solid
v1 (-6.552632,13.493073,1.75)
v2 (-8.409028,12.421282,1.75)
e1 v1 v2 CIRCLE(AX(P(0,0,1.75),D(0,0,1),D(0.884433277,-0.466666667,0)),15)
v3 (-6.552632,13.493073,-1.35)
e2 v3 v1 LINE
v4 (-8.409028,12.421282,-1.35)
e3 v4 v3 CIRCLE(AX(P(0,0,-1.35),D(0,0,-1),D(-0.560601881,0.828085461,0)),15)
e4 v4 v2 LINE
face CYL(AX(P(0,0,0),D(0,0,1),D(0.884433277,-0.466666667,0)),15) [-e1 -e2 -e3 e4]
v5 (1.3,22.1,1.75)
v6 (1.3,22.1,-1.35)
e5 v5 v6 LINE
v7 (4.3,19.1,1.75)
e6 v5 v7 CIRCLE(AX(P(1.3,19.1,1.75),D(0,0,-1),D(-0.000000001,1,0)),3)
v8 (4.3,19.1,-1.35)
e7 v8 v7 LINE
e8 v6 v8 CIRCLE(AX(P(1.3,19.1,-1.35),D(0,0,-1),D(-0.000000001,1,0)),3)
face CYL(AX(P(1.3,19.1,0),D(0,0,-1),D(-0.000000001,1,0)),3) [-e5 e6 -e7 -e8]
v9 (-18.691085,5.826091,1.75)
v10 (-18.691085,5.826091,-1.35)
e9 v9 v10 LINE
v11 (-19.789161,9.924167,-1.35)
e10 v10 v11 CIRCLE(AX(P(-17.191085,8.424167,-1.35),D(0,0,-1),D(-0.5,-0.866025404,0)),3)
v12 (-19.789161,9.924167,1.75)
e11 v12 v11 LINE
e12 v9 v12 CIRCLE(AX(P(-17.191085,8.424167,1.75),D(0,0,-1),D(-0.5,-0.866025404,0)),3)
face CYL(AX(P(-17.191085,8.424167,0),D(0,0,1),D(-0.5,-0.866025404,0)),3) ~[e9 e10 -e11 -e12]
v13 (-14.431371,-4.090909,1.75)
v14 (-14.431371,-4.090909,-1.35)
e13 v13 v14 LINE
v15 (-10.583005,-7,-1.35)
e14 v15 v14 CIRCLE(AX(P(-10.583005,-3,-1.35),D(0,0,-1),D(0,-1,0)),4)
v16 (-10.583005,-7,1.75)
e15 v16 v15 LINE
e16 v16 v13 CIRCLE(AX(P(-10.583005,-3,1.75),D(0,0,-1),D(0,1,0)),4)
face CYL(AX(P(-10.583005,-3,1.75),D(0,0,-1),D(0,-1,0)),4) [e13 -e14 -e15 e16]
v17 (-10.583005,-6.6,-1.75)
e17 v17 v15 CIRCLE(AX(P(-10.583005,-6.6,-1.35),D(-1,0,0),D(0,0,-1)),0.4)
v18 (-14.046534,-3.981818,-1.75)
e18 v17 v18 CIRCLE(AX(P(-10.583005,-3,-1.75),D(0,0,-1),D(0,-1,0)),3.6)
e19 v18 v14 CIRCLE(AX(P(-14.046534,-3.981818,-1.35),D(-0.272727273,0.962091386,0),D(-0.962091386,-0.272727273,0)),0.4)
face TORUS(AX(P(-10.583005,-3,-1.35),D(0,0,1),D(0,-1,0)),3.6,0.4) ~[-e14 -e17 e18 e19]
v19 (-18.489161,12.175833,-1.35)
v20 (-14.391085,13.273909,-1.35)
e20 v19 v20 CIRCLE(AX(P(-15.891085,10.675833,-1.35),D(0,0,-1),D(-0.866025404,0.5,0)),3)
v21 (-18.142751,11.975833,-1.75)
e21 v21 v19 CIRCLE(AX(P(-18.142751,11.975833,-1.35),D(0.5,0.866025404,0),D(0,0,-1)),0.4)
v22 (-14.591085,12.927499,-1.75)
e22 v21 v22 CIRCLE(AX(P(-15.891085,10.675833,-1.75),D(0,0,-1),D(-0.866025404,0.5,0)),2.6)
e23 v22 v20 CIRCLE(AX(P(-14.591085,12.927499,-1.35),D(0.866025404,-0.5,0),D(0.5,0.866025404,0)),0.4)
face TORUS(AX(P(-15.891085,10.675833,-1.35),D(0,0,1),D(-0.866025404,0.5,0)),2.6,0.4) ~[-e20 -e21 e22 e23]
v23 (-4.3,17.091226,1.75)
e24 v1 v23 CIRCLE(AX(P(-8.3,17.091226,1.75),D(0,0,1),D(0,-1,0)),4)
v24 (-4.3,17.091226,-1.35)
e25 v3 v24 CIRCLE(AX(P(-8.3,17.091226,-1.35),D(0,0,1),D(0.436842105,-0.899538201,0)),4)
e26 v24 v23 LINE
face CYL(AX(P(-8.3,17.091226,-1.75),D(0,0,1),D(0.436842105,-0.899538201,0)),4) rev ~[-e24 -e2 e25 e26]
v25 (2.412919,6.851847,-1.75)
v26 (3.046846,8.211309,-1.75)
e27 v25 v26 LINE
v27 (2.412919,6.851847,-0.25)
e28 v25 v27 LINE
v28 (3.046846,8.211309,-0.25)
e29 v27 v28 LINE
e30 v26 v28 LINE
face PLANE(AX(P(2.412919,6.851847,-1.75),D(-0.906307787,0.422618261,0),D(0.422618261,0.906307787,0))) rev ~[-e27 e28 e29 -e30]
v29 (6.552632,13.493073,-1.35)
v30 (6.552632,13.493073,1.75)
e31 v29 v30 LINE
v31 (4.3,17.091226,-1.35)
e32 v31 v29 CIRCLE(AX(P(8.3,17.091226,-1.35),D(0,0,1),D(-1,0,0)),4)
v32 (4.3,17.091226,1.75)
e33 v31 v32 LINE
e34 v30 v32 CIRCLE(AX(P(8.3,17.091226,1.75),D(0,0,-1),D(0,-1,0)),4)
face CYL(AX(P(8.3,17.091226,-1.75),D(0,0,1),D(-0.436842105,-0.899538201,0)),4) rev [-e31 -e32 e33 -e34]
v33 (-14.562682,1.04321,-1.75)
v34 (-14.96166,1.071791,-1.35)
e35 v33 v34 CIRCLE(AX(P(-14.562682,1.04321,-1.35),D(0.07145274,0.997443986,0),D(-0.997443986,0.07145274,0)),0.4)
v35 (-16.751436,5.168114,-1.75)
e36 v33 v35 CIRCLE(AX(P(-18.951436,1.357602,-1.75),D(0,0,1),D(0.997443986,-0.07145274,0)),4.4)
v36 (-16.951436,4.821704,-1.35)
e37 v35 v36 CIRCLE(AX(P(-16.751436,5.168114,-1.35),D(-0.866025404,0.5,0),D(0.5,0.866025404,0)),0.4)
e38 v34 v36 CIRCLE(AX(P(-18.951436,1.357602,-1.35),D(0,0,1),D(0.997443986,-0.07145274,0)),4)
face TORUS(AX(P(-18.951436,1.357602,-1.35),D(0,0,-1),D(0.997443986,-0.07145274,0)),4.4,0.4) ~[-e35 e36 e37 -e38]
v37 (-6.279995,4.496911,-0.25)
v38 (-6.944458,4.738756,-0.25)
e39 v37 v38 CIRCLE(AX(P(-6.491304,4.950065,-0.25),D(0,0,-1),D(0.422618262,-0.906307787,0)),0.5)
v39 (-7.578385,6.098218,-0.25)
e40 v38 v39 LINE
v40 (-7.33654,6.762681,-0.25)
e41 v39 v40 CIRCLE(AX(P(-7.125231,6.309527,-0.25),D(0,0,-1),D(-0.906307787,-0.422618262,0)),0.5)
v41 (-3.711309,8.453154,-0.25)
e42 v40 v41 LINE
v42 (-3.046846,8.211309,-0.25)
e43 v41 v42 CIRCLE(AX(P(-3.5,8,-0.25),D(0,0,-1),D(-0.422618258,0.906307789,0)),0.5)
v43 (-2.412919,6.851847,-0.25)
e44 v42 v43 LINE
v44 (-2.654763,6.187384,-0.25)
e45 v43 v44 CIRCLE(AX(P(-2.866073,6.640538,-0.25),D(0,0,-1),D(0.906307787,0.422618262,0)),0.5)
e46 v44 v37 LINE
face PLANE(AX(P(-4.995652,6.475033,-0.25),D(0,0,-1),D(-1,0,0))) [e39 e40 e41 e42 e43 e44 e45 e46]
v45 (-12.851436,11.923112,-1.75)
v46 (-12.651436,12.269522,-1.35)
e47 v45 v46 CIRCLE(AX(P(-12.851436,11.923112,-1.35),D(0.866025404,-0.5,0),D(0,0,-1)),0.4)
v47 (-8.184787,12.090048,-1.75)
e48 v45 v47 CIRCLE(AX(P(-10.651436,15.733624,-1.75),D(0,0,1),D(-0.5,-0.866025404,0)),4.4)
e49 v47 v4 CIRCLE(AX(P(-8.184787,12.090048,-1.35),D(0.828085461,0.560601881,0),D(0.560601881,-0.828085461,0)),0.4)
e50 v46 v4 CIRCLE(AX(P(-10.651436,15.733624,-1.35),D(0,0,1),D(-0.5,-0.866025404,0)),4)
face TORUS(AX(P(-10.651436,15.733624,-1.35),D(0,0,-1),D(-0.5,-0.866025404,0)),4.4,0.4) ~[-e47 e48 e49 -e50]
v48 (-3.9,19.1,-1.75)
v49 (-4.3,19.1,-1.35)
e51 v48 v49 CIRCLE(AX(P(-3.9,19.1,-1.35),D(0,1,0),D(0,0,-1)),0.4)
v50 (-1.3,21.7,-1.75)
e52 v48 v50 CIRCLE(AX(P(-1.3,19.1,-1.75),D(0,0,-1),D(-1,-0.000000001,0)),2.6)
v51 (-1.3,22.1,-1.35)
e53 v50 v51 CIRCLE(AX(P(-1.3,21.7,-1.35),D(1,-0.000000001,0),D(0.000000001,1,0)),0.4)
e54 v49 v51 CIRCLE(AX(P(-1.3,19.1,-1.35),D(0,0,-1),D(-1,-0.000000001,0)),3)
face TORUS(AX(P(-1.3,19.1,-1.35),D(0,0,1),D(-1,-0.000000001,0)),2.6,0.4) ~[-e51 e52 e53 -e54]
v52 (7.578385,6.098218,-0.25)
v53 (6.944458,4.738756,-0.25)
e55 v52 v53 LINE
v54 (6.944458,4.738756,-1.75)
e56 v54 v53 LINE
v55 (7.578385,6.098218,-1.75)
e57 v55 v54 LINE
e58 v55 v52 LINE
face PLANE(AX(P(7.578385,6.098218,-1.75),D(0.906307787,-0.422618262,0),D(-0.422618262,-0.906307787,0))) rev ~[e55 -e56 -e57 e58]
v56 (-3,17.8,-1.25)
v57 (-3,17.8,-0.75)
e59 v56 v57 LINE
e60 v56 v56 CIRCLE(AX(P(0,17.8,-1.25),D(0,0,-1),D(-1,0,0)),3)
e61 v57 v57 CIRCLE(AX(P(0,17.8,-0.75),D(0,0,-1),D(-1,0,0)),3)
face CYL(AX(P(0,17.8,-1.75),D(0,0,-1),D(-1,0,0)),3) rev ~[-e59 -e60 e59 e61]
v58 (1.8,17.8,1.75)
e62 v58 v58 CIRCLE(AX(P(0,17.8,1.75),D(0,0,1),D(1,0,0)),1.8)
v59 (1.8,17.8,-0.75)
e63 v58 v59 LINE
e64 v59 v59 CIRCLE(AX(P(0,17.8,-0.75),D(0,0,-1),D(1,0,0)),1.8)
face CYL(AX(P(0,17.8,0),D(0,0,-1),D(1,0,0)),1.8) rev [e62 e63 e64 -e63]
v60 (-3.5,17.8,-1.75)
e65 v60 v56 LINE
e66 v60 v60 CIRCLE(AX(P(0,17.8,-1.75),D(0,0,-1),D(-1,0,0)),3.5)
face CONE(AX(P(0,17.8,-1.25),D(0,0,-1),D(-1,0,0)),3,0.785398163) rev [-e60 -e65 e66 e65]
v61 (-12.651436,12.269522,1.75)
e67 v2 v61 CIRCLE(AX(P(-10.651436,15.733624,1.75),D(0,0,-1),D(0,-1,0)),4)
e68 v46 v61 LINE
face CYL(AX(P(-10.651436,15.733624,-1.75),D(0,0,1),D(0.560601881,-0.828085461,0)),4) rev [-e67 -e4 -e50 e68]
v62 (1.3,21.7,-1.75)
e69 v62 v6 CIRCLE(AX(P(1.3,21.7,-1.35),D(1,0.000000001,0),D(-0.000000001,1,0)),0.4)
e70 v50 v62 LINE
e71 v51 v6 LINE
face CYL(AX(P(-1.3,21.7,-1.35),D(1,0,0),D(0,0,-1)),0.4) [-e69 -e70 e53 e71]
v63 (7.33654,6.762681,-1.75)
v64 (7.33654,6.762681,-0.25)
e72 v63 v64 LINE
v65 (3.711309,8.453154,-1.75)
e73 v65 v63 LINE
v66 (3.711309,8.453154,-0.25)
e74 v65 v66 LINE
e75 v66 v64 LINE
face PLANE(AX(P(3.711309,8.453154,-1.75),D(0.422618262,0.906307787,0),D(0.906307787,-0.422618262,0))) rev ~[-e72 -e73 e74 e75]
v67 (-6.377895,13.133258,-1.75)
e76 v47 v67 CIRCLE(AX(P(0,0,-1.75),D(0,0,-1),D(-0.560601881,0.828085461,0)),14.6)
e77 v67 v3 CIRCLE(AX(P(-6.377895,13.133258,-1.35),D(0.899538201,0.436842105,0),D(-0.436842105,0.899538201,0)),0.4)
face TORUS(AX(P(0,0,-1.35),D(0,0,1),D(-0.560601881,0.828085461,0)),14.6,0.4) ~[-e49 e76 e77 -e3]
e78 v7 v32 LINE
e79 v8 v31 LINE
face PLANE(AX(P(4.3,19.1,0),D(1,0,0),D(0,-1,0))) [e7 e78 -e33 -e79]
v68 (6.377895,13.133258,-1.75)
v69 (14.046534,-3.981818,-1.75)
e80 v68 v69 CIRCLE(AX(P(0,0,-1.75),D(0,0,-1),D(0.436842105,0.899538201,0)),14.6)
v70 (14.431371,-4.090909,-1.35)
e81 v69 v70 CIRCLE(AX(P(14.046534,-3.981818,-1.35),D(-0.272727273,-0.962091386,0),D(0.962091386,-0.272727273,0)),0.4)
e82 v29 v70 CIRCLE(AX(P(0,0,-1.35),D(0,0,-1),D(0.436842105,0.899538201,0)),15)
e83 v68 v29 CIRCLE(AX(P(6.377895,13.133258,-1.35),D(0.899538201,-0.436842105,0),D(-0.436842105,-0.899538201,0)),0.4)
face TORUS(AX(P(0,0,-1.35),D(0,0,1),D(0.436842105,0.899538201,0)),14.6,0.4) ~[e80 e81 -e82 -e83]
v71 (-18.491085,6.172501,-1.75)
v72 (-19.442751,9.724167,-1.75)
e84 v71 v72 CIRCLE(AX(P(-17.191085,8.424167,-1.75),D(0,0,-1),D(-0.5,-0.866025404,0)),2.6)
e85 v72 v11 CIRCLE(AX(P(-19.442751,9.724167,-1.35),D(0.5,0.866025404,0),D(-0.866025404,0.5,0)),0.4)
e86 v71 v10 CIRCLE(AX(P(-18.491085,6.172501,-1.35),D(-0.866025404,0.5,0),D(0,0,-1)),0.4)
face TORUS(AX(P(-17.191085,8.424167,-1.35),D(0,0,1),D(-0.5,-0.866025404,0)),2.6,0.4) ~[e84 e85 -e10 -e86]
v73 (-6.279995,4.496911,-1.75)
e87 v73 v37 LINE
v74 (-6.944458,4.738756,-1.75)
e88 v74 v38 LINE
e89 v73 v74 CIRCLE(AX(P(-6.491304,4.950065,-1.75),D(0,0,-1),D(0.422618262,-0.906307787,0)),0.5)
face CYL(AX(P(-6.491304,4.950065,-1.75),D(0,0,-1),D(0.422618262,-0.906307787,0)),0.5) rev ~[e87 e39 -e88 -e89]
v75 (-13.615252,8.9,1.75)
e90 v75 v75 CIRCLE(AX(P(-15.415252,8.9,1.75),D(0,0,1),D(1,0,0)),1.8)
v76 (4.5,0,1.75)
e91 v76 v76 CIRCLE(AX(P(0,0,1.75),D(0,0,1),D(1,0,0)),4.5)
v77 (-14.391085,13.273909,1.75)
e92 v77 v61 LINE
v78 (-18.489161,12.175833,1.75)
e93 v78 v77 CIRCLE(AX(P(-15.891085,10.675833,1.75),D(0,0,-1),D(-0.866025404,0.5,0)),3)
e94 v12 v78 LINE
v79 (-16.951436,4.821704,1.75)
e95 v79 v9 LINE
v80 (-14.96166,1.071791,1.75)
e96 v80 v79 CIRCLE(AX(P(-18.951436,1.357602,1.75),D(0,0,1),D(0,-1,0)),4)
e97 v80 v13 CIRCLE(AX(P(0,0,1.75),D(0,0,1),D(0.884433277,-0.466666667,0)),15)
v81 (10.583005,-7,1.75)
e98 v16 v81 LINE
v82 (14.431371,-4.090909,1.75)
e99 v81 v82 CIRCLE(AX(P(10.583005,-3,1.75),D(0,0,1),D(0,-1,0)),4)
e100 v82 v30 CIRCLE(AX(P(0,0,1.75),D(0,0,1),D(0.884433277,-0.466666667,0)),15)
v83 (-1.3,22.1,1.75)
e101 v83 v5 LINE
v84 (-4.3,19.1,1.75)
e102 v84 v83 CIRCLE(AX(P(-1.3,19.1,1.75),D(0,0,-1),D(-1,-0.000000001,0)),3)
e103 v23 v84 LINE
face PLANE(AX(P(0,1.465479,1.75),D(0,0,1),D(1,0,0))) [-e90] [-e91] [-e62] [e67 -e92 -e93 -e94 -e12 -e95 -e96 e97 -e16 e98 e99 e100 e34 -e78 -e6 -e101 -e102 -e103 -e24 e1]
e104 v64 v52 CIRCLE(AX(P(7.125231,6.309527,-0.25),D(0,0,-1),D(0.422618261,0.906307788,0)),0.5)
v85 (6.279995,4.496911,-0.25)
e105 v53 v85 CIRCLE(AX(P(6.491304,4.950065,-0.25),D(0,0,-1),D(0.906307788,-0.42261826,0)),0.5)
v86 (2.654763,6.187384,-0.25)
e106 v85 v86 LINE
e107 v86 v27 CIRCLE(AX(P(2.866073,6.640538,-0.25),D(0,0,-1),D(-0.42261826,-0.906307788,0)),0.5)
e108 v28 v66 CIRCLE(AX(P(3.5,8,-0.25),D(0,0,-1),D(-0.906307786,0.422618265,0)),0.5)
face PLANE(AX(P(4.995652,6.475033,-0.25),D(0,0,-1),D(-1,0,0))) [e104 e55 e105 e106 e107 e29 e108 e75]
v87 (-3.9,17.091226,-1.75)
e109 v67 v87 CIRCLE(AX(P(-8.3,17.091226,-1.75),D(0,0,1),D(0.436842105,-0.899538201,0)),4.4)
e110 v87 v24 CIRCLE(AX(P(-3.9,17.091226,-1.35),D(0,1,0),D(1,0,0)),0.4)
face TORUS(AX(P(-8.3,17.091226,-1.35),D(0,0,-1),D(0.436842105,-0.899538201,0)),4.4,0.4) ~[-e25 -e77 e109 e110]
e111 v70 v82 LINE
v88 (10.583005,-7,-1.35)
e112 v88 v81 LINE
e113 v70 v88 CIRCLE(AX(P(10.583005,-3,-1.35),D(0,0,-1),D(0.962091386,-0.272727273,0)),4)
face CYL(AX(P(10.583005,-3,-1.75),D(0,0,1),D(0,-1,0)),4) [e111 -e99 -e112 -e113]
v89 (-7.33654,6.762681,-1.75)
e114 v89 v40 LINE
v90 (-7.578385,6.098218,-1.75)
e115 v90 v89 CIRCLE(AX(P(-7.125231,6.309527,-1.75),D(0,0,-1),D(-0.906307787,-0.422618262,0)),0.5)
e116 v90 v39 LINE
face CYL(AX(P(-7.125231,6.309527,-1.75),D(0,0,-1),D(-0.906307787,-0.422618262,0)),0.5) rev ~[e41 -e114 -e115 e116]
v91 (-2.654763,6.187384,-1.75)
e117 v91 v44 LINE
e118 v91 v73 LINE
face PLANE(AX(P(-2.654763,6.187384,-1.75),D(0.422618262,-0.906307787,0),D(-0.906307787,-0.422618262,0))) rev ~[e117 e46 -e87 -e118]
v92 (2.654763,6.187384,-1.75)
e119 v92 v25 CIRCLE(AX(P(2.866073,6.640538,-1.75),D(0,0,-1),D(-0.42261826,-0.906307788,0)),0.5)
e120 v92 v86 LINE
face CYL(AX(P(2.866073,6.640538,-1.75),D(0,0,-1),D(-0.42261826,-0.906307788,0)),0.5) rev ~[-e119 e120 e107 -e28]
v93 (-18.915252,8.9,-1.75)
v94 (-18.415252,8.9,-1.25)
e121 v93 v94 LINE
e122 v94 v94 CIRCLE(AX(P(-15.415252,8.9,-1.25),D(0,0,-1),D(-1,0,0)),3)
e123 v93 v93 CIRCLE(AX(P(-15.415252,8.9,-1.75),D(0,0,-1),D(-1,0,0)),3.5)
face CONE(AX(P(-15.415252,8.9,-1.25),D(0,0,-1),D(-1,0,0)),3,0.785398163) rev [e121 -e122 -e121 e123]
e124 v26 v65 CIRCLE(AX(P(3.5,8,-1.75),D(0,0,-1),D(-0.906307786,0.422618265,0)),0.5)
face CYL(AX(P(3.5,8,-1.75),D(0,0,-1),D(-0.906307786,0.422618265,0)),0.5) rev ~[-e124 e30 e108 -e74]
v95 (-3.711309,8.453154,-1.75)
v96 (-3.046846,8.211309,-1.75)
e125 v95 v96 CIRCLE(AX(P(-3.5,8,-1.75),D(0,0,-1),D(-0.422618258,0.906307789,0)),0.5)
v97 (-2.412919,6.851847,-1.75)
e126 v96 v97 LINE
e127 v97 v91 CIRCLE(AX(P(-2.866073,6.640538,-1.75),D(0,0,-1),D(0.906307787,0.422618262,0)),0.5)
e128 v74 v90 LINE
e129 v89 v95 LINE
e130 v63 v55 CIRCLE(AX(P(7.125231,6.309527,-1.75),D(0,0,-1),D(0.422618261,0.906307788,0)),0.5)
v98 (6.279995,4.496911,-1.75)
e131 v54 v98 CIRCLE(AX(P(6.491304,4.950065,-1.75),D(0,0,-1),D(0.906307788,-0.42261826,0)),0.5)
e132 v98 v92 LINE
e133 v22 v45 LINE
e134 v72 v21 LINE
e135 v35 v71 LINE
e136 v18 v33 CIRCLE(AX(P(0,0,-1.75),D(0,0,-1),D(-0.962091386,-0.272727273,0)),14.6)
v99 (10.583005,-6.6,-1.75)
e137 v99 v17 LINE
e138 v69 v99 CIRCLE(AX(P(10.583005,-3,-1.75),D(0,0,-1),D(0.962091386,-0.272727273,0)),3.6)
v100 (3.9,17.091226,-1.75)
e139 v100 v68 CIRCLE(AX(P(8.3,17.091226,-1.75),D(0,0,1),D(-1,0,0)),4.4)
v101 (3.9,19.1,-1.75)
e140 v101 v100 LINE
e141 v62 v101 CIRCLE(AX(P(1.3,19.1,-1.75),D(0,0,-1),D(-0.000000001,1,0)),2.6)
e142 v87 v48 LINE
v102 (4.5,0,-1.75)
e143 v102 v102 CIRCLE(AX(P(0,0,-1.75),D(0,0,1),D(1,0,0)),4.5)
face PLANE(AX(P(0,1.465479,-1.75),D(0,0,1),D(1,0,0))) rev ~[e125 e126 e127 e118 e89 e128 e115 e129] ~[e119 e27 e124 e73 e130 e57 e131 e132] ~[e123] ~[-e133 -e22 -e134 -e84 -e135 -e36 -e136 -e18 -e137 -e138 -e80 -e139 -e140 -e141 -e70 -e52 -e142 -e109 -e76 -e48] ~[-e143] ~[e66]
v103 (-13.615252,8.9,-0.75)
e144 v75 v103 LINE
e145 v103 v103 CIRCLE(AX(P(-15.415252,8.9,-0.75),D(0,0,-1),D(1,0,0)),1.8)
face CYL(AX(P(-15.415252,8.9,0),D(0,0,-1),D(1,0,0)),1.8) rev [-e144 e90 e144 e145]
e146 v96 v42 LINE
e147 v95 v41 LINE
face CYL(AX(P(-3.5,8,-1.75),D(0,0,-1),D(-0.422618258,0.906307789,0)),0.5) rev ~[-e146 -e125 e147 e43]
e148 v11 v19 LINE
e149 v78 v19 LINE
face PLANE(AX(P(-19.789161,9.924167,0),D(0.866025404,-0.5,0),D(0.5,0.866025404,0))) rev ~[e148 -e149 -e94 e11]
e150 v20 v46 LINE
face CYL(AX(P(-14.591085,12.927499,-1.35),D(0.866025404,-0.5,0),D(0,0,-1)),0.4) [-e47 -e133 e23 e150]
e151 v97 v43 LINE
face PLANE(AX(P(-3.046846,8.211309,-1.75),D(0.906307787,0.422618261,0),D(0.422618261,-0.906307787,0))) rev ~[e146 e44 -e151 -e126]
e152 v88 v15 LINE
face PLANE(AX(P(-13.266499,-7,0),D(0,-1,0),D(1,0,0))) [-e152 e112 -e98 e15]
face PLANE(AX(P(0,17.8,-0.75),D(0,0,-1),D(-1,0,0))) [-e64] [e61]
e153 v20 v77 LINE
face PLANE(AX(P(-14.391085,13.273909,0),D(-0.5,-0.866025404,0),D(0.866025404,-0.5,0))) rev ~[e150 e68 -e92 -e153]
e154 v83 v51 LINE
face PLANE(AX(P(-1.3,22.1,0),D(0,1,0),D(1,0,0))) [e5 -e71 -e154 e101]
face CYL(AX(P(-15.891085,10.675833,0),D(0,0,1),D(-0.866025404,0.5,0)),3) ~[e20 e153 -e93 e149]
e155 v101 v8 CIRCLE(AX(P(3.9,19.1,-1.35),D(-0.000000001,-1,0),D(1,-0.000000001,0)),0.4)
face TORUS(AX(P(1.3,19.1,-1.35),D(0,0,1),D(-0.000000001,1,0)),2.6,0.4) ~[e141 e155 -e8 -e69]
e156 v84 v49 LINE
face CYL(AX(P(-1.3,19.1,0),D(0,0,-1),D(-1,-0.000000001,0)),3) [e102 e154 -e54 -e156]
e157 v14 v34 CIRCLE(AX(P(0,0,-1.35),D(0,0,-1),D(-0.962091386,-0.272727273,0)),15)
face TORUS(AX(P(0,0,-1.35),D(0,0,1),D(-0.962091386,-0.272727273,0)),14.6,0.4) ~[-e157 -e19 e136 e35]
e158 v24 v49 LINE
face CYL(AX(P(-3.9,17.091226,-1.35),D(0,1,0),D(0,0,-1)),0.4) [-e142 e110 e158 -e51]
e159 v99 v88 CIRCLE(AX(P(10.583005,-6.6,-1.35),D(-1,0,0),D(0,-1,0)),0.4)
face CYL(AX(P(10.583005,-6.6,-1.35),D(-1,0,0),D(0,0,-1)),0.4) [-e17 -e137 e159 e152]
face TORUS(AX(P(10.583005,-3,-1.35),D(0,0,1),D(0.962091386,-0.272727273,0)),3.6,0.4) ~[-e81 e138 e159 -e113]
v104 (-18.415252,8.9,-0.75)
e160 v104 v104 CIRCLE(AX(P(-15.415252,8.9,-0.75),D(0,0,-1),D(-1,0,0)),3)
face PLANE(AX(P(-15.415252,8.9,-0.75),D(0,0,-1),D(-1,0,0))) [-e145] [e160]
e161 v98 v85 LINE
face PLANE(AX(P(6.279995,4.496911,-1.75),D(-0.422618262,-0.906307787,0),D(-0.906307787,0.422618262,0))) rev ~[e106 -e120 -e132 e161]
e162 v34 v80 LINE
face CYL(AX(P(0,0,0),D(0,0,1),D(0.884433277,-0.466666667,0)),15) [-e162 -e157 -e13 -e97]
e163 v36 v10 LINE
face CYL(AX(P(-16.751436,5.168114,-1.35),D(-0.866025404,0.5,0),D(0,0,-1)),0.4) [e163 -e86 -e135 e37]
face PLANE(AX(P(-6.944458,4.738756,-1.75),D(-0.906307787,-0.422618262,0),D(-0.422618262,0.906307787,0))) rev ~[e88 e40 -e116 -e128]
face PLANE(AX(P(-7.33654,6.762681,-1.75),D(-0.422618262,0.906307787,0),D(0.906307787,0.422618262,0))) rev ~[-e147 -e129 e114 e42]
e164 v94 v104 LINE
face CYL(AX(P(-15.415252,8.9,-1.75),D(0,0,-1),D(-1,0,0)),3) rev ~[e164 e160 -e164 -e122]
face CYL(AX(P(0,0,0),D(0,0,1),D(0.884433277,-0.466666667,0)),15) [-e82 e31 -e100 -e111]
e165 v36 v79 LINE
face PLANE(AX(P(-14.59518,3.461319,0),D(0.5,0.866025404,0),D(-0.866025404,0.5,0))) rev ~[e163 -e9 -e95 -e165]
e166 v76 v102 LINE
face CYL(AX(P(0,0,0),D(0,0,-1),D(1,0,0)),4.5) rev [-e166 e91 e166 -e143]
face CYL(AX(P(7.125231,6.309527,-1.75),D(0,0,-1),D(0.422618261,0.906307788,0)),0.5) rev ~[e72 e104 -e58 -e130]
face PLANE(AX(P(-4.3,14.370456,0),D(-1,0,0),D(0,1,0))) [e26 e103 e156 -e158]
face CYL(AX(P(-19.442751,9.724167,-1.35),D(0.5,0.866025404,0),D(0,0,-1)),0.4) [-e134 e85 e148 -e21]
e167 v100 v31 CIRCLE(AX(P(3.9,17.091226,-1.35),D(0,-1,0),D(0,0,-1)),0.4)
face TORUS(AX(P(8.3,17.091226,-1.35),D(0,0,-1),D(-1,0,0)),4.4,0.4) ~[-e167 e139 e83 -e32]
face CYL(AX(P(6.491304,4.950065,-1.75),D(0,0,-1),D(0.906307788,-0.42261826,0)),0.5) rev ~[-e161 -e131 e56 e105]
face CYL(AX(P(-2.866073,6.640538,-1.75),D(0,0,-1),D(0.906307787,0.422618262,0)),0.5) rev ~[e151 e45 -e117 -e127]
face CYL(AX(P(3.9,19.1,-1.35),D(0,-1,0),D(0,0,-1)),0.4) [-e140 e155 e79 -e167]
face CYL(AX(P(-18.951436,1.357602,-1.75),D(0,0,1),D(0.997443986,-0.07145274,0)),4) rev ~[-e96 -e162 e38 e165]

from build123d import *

# Parameters (mm, degrees)
SKETCH10_R          = 4.5
BOSS_EXTRUDE6_DEPTH = 1.75
SKETCH13_R          = 1.8
BOSS_EXTRUDE7_DEPTH = 1.75
FILLET1_R           = 4
CUT_EXTRUDE2_DEPTH  = 1.5
SKETCH16_R          = 3
CUT_EXTRUDE3_DEPTH  = 1
CHAMFER1_SIZE       = 0.5
FILLET2_R           = 0.4


with BuildPart() as part:
    # Sketch10 → Boss-Extrude6 (new, symmetric)
    with BuildSketch(Plane.XY):
        with BuildLine():
            Line((-13.266499161, -7), (13.266499161, -7))
            ThreePointArc((13.266499161, -7), (0, 15), (-13.266499161, -7))
        make_face()
        Circle(SKETCH10_R, mode=Mode.SUBTRACT)
    extrude(amount=BOSS_EXTRUDE6_DEPTH, both=True)

    # Sketch13 → Boss-Extrude7 (add, symmetric)
    # profile 1 of 2: a face of its own
    with BuildSketch(Plane.XY):
        with BuildLine():
            Line((-4.3, 14.370455803), (-4.3, 19.1))
            ThreePointArc((-4.3, 19.1), (-3.421320344, 21.221320344), (-1.3, 22.1))
            Line((-1.3, 22.1), (1.3, 22.1))
            ThreePointArc((1.3, 22.1), (3.421320344, 21.221320344), (4.3, 19.1))
            Line((4.3, 19.1), (4.3, 14.370455803))
            ThreePointArc((4.3, 14.370455803), (0, 15), (-4.3, 14.370455803))
        make_face()
        with Locations((0, 17.8)):
            Circle(SKETCH13_R, mode=Mode.SUBTRACT)
    # profile 2 of 2: a face of its own
    with BuildSketch(Plane.XY):
        with BuildLine():
            Line((-14.59517979, 3.461318665), (-18.691085212, 5.826090764))
            ThreePointArc((-18.691085212, 5.826090764), (-20.088862691, 7.64770984), (-19.789161424, 9.924166975))
            Line((-19.789161424, 9.924166975), (-18.489161424, 12.175833025))
            ThreePointArc((-18.489161424, 12.175833025), (-16.667542348, 13.573610504), (-14.391085212, 13.273909236))
            Line((-14.391085212, 13.273909236), (-10.29517979, 10.909137138))
            ThreePointArc((-10.29517979, 10.909137138), (-12.990381057, 7.5), (-14.59517979, 3.461318665))
        make_face()
        with Locations((-15.415252187, 8.9)):
            Circle(SKETCH13_R, mode=Mode.SUBTRACT)
    extrude(amount=BOSS_EXTRUDE7_DEPTH, both=True)

    # Fillet1
    fillet1_edges = [part.edges().sort_by_distance(p)[0] for p in [
        (-4.3, 14.370455803, 0),
        (4.3, 14.370455803, 0),
        (-14.59517979, 3.461318665, 0),
        (-10.29517979, 10.909137138, 0),
        (13.266499161, -7, 0),
        (-13.266499161, -7, 0),
    ]]
    fillet(fillet1_edges, radius=FILLET1_R)

    # Sketch15 → Cut-Extrude2 (cut)
    with BuildSketch(Plane(origin=(0, 0, -1.75), x_dir=(-1, 0, 0), z_dir=(0, 0, -1))):
        with BuildLine():
            Line((-3.711309131, 8.453153894), (-7.336540279, 6.762680847))
            ThreePointArc((-7.336540279, 6.762680847), (-7.595077459, 6.480537025), (-7.578385042, 6.098217822))
            Line((-7.578385042, 6.098217822), (-6.944457649, 4.738756142))
            ThreePointArc((-6.944457649, 4.738756142), (-6.662313827, 4.480218962), (-6.279994625, 4.496911379))
            Line((-6.279994625, 4.496911379), (-2.654763477, 6.187384426))
            ThreePointArc((-2.654763477, 6.187384426), (-2.396226297, 6.469528248), (-2.412918714, 6.85184745))
            Line((-2.412918714, 6.85184745), (-3.046846106, 8.211309131))
            ThreePointArc((-3.046846106, 8.211309131), (-3.328989928, 8.46984631), (-3.711309131, 8.453153894))
        make_face()
        with BuildLine():
            Line((6.944457649, 4.738756142), (7.578385042, 6.098217822))
            ThreePointArc((7.578385042, 6.098217822), (7.595077459, 6.480537025), (7.336540279, 6.762680847))
            Line((7.336540279, 6.762680847), (3.711309131, 8.453153894))
            ThreePointArc((3.711309131, 8.453153894), (3.328989928, 8.46984631), (3.046846106, 8.211309131))
            Line((3.046846106, 8.211309131), (2.412918714, 6.85184745))
            ThreePointArc((2.412918714, 6.85184745), (2.396226297, 6.469528248), (2.654763477, 6.187384426))
            Line((2.654763477, 6.187384426), (6.279994625, 4.496911379))
            ThreePointArc((6.279994625, 4.496911379), (6.662313827, 4.480218962), (6.944457649, 4.738756142))
        make_face()
    extrude(amount=-CUT_EXTRUDE2_DEPTH, mode=Mode.SUBTRACT)

    # Sketch16 → Cut-Extrude3 (cut)
    with BuildSketch(Plane(origin=(0, 0, -1.75), x_dir=(-1, 0, 0), z_dir=(0, 0, -1))):
        with Locations((0, 17.8)):
            Circle(SKETCH16_R)
        with Locations((15.415252187, 8.9)):
            Circle(SKETCH16_R)
    extrude(amount=-CUT_EXTRUDE3_DEPTH, mode=Mode.SUBTRACT)

    # Chamfer1
    chamfer1_edges = [part.edges().sort_by_distance(p)[0] for p in [
        (3, 17.8, -1.75),
        (-12.415252187, 8.9, -1.75),
    ]]
    chamfer(chamfer1_edges, length=CHAMFER1_SIZE)

    # Fillet2
    fillet2_edges = [part.edges().sort_by_distance(p)[0] for p in [
        (3.421320344, 21.221320344, -1.75),
        (0, 22.1, -1.75),
        (-3.421320344, 21.221320344, -1.75),
        (-4.3, 18.09561291, -1.75),
        (-16.667542348, 13.573610504, -1.75),
        (-19.139161424, 11.05, -1.75),
        (-20.088862691, 7.64770984, -1.75),
        (-17.821260477, 5.323897219, -1.75),
        (-14.921492219, -1.5326676, -1.75),
        (4.3, 18.09561291, -1.75),
        (13.688725123, 6.133417032, -1.75),
        (-13.521260477, 12.771715691, -1.75),
        (-7.5, 12.990381057, -1.75),
        (0, -7, -1.75),
        (-12.995096001, -6.190896141, -1.75),
        (12.995096001, -6.190896141, -1.75),
        (-15.418049964, 3.232484708, -1.75),
        (4.909611108, 14.9686653, -1.75),
        (-10.508438857, 11.736180592, -1.75),
        (-4.909611108, 14.9686653, -1.75),
    ]]
    fillet(fillet2_edges, radius=FILLET2_R)


solid = part.part
